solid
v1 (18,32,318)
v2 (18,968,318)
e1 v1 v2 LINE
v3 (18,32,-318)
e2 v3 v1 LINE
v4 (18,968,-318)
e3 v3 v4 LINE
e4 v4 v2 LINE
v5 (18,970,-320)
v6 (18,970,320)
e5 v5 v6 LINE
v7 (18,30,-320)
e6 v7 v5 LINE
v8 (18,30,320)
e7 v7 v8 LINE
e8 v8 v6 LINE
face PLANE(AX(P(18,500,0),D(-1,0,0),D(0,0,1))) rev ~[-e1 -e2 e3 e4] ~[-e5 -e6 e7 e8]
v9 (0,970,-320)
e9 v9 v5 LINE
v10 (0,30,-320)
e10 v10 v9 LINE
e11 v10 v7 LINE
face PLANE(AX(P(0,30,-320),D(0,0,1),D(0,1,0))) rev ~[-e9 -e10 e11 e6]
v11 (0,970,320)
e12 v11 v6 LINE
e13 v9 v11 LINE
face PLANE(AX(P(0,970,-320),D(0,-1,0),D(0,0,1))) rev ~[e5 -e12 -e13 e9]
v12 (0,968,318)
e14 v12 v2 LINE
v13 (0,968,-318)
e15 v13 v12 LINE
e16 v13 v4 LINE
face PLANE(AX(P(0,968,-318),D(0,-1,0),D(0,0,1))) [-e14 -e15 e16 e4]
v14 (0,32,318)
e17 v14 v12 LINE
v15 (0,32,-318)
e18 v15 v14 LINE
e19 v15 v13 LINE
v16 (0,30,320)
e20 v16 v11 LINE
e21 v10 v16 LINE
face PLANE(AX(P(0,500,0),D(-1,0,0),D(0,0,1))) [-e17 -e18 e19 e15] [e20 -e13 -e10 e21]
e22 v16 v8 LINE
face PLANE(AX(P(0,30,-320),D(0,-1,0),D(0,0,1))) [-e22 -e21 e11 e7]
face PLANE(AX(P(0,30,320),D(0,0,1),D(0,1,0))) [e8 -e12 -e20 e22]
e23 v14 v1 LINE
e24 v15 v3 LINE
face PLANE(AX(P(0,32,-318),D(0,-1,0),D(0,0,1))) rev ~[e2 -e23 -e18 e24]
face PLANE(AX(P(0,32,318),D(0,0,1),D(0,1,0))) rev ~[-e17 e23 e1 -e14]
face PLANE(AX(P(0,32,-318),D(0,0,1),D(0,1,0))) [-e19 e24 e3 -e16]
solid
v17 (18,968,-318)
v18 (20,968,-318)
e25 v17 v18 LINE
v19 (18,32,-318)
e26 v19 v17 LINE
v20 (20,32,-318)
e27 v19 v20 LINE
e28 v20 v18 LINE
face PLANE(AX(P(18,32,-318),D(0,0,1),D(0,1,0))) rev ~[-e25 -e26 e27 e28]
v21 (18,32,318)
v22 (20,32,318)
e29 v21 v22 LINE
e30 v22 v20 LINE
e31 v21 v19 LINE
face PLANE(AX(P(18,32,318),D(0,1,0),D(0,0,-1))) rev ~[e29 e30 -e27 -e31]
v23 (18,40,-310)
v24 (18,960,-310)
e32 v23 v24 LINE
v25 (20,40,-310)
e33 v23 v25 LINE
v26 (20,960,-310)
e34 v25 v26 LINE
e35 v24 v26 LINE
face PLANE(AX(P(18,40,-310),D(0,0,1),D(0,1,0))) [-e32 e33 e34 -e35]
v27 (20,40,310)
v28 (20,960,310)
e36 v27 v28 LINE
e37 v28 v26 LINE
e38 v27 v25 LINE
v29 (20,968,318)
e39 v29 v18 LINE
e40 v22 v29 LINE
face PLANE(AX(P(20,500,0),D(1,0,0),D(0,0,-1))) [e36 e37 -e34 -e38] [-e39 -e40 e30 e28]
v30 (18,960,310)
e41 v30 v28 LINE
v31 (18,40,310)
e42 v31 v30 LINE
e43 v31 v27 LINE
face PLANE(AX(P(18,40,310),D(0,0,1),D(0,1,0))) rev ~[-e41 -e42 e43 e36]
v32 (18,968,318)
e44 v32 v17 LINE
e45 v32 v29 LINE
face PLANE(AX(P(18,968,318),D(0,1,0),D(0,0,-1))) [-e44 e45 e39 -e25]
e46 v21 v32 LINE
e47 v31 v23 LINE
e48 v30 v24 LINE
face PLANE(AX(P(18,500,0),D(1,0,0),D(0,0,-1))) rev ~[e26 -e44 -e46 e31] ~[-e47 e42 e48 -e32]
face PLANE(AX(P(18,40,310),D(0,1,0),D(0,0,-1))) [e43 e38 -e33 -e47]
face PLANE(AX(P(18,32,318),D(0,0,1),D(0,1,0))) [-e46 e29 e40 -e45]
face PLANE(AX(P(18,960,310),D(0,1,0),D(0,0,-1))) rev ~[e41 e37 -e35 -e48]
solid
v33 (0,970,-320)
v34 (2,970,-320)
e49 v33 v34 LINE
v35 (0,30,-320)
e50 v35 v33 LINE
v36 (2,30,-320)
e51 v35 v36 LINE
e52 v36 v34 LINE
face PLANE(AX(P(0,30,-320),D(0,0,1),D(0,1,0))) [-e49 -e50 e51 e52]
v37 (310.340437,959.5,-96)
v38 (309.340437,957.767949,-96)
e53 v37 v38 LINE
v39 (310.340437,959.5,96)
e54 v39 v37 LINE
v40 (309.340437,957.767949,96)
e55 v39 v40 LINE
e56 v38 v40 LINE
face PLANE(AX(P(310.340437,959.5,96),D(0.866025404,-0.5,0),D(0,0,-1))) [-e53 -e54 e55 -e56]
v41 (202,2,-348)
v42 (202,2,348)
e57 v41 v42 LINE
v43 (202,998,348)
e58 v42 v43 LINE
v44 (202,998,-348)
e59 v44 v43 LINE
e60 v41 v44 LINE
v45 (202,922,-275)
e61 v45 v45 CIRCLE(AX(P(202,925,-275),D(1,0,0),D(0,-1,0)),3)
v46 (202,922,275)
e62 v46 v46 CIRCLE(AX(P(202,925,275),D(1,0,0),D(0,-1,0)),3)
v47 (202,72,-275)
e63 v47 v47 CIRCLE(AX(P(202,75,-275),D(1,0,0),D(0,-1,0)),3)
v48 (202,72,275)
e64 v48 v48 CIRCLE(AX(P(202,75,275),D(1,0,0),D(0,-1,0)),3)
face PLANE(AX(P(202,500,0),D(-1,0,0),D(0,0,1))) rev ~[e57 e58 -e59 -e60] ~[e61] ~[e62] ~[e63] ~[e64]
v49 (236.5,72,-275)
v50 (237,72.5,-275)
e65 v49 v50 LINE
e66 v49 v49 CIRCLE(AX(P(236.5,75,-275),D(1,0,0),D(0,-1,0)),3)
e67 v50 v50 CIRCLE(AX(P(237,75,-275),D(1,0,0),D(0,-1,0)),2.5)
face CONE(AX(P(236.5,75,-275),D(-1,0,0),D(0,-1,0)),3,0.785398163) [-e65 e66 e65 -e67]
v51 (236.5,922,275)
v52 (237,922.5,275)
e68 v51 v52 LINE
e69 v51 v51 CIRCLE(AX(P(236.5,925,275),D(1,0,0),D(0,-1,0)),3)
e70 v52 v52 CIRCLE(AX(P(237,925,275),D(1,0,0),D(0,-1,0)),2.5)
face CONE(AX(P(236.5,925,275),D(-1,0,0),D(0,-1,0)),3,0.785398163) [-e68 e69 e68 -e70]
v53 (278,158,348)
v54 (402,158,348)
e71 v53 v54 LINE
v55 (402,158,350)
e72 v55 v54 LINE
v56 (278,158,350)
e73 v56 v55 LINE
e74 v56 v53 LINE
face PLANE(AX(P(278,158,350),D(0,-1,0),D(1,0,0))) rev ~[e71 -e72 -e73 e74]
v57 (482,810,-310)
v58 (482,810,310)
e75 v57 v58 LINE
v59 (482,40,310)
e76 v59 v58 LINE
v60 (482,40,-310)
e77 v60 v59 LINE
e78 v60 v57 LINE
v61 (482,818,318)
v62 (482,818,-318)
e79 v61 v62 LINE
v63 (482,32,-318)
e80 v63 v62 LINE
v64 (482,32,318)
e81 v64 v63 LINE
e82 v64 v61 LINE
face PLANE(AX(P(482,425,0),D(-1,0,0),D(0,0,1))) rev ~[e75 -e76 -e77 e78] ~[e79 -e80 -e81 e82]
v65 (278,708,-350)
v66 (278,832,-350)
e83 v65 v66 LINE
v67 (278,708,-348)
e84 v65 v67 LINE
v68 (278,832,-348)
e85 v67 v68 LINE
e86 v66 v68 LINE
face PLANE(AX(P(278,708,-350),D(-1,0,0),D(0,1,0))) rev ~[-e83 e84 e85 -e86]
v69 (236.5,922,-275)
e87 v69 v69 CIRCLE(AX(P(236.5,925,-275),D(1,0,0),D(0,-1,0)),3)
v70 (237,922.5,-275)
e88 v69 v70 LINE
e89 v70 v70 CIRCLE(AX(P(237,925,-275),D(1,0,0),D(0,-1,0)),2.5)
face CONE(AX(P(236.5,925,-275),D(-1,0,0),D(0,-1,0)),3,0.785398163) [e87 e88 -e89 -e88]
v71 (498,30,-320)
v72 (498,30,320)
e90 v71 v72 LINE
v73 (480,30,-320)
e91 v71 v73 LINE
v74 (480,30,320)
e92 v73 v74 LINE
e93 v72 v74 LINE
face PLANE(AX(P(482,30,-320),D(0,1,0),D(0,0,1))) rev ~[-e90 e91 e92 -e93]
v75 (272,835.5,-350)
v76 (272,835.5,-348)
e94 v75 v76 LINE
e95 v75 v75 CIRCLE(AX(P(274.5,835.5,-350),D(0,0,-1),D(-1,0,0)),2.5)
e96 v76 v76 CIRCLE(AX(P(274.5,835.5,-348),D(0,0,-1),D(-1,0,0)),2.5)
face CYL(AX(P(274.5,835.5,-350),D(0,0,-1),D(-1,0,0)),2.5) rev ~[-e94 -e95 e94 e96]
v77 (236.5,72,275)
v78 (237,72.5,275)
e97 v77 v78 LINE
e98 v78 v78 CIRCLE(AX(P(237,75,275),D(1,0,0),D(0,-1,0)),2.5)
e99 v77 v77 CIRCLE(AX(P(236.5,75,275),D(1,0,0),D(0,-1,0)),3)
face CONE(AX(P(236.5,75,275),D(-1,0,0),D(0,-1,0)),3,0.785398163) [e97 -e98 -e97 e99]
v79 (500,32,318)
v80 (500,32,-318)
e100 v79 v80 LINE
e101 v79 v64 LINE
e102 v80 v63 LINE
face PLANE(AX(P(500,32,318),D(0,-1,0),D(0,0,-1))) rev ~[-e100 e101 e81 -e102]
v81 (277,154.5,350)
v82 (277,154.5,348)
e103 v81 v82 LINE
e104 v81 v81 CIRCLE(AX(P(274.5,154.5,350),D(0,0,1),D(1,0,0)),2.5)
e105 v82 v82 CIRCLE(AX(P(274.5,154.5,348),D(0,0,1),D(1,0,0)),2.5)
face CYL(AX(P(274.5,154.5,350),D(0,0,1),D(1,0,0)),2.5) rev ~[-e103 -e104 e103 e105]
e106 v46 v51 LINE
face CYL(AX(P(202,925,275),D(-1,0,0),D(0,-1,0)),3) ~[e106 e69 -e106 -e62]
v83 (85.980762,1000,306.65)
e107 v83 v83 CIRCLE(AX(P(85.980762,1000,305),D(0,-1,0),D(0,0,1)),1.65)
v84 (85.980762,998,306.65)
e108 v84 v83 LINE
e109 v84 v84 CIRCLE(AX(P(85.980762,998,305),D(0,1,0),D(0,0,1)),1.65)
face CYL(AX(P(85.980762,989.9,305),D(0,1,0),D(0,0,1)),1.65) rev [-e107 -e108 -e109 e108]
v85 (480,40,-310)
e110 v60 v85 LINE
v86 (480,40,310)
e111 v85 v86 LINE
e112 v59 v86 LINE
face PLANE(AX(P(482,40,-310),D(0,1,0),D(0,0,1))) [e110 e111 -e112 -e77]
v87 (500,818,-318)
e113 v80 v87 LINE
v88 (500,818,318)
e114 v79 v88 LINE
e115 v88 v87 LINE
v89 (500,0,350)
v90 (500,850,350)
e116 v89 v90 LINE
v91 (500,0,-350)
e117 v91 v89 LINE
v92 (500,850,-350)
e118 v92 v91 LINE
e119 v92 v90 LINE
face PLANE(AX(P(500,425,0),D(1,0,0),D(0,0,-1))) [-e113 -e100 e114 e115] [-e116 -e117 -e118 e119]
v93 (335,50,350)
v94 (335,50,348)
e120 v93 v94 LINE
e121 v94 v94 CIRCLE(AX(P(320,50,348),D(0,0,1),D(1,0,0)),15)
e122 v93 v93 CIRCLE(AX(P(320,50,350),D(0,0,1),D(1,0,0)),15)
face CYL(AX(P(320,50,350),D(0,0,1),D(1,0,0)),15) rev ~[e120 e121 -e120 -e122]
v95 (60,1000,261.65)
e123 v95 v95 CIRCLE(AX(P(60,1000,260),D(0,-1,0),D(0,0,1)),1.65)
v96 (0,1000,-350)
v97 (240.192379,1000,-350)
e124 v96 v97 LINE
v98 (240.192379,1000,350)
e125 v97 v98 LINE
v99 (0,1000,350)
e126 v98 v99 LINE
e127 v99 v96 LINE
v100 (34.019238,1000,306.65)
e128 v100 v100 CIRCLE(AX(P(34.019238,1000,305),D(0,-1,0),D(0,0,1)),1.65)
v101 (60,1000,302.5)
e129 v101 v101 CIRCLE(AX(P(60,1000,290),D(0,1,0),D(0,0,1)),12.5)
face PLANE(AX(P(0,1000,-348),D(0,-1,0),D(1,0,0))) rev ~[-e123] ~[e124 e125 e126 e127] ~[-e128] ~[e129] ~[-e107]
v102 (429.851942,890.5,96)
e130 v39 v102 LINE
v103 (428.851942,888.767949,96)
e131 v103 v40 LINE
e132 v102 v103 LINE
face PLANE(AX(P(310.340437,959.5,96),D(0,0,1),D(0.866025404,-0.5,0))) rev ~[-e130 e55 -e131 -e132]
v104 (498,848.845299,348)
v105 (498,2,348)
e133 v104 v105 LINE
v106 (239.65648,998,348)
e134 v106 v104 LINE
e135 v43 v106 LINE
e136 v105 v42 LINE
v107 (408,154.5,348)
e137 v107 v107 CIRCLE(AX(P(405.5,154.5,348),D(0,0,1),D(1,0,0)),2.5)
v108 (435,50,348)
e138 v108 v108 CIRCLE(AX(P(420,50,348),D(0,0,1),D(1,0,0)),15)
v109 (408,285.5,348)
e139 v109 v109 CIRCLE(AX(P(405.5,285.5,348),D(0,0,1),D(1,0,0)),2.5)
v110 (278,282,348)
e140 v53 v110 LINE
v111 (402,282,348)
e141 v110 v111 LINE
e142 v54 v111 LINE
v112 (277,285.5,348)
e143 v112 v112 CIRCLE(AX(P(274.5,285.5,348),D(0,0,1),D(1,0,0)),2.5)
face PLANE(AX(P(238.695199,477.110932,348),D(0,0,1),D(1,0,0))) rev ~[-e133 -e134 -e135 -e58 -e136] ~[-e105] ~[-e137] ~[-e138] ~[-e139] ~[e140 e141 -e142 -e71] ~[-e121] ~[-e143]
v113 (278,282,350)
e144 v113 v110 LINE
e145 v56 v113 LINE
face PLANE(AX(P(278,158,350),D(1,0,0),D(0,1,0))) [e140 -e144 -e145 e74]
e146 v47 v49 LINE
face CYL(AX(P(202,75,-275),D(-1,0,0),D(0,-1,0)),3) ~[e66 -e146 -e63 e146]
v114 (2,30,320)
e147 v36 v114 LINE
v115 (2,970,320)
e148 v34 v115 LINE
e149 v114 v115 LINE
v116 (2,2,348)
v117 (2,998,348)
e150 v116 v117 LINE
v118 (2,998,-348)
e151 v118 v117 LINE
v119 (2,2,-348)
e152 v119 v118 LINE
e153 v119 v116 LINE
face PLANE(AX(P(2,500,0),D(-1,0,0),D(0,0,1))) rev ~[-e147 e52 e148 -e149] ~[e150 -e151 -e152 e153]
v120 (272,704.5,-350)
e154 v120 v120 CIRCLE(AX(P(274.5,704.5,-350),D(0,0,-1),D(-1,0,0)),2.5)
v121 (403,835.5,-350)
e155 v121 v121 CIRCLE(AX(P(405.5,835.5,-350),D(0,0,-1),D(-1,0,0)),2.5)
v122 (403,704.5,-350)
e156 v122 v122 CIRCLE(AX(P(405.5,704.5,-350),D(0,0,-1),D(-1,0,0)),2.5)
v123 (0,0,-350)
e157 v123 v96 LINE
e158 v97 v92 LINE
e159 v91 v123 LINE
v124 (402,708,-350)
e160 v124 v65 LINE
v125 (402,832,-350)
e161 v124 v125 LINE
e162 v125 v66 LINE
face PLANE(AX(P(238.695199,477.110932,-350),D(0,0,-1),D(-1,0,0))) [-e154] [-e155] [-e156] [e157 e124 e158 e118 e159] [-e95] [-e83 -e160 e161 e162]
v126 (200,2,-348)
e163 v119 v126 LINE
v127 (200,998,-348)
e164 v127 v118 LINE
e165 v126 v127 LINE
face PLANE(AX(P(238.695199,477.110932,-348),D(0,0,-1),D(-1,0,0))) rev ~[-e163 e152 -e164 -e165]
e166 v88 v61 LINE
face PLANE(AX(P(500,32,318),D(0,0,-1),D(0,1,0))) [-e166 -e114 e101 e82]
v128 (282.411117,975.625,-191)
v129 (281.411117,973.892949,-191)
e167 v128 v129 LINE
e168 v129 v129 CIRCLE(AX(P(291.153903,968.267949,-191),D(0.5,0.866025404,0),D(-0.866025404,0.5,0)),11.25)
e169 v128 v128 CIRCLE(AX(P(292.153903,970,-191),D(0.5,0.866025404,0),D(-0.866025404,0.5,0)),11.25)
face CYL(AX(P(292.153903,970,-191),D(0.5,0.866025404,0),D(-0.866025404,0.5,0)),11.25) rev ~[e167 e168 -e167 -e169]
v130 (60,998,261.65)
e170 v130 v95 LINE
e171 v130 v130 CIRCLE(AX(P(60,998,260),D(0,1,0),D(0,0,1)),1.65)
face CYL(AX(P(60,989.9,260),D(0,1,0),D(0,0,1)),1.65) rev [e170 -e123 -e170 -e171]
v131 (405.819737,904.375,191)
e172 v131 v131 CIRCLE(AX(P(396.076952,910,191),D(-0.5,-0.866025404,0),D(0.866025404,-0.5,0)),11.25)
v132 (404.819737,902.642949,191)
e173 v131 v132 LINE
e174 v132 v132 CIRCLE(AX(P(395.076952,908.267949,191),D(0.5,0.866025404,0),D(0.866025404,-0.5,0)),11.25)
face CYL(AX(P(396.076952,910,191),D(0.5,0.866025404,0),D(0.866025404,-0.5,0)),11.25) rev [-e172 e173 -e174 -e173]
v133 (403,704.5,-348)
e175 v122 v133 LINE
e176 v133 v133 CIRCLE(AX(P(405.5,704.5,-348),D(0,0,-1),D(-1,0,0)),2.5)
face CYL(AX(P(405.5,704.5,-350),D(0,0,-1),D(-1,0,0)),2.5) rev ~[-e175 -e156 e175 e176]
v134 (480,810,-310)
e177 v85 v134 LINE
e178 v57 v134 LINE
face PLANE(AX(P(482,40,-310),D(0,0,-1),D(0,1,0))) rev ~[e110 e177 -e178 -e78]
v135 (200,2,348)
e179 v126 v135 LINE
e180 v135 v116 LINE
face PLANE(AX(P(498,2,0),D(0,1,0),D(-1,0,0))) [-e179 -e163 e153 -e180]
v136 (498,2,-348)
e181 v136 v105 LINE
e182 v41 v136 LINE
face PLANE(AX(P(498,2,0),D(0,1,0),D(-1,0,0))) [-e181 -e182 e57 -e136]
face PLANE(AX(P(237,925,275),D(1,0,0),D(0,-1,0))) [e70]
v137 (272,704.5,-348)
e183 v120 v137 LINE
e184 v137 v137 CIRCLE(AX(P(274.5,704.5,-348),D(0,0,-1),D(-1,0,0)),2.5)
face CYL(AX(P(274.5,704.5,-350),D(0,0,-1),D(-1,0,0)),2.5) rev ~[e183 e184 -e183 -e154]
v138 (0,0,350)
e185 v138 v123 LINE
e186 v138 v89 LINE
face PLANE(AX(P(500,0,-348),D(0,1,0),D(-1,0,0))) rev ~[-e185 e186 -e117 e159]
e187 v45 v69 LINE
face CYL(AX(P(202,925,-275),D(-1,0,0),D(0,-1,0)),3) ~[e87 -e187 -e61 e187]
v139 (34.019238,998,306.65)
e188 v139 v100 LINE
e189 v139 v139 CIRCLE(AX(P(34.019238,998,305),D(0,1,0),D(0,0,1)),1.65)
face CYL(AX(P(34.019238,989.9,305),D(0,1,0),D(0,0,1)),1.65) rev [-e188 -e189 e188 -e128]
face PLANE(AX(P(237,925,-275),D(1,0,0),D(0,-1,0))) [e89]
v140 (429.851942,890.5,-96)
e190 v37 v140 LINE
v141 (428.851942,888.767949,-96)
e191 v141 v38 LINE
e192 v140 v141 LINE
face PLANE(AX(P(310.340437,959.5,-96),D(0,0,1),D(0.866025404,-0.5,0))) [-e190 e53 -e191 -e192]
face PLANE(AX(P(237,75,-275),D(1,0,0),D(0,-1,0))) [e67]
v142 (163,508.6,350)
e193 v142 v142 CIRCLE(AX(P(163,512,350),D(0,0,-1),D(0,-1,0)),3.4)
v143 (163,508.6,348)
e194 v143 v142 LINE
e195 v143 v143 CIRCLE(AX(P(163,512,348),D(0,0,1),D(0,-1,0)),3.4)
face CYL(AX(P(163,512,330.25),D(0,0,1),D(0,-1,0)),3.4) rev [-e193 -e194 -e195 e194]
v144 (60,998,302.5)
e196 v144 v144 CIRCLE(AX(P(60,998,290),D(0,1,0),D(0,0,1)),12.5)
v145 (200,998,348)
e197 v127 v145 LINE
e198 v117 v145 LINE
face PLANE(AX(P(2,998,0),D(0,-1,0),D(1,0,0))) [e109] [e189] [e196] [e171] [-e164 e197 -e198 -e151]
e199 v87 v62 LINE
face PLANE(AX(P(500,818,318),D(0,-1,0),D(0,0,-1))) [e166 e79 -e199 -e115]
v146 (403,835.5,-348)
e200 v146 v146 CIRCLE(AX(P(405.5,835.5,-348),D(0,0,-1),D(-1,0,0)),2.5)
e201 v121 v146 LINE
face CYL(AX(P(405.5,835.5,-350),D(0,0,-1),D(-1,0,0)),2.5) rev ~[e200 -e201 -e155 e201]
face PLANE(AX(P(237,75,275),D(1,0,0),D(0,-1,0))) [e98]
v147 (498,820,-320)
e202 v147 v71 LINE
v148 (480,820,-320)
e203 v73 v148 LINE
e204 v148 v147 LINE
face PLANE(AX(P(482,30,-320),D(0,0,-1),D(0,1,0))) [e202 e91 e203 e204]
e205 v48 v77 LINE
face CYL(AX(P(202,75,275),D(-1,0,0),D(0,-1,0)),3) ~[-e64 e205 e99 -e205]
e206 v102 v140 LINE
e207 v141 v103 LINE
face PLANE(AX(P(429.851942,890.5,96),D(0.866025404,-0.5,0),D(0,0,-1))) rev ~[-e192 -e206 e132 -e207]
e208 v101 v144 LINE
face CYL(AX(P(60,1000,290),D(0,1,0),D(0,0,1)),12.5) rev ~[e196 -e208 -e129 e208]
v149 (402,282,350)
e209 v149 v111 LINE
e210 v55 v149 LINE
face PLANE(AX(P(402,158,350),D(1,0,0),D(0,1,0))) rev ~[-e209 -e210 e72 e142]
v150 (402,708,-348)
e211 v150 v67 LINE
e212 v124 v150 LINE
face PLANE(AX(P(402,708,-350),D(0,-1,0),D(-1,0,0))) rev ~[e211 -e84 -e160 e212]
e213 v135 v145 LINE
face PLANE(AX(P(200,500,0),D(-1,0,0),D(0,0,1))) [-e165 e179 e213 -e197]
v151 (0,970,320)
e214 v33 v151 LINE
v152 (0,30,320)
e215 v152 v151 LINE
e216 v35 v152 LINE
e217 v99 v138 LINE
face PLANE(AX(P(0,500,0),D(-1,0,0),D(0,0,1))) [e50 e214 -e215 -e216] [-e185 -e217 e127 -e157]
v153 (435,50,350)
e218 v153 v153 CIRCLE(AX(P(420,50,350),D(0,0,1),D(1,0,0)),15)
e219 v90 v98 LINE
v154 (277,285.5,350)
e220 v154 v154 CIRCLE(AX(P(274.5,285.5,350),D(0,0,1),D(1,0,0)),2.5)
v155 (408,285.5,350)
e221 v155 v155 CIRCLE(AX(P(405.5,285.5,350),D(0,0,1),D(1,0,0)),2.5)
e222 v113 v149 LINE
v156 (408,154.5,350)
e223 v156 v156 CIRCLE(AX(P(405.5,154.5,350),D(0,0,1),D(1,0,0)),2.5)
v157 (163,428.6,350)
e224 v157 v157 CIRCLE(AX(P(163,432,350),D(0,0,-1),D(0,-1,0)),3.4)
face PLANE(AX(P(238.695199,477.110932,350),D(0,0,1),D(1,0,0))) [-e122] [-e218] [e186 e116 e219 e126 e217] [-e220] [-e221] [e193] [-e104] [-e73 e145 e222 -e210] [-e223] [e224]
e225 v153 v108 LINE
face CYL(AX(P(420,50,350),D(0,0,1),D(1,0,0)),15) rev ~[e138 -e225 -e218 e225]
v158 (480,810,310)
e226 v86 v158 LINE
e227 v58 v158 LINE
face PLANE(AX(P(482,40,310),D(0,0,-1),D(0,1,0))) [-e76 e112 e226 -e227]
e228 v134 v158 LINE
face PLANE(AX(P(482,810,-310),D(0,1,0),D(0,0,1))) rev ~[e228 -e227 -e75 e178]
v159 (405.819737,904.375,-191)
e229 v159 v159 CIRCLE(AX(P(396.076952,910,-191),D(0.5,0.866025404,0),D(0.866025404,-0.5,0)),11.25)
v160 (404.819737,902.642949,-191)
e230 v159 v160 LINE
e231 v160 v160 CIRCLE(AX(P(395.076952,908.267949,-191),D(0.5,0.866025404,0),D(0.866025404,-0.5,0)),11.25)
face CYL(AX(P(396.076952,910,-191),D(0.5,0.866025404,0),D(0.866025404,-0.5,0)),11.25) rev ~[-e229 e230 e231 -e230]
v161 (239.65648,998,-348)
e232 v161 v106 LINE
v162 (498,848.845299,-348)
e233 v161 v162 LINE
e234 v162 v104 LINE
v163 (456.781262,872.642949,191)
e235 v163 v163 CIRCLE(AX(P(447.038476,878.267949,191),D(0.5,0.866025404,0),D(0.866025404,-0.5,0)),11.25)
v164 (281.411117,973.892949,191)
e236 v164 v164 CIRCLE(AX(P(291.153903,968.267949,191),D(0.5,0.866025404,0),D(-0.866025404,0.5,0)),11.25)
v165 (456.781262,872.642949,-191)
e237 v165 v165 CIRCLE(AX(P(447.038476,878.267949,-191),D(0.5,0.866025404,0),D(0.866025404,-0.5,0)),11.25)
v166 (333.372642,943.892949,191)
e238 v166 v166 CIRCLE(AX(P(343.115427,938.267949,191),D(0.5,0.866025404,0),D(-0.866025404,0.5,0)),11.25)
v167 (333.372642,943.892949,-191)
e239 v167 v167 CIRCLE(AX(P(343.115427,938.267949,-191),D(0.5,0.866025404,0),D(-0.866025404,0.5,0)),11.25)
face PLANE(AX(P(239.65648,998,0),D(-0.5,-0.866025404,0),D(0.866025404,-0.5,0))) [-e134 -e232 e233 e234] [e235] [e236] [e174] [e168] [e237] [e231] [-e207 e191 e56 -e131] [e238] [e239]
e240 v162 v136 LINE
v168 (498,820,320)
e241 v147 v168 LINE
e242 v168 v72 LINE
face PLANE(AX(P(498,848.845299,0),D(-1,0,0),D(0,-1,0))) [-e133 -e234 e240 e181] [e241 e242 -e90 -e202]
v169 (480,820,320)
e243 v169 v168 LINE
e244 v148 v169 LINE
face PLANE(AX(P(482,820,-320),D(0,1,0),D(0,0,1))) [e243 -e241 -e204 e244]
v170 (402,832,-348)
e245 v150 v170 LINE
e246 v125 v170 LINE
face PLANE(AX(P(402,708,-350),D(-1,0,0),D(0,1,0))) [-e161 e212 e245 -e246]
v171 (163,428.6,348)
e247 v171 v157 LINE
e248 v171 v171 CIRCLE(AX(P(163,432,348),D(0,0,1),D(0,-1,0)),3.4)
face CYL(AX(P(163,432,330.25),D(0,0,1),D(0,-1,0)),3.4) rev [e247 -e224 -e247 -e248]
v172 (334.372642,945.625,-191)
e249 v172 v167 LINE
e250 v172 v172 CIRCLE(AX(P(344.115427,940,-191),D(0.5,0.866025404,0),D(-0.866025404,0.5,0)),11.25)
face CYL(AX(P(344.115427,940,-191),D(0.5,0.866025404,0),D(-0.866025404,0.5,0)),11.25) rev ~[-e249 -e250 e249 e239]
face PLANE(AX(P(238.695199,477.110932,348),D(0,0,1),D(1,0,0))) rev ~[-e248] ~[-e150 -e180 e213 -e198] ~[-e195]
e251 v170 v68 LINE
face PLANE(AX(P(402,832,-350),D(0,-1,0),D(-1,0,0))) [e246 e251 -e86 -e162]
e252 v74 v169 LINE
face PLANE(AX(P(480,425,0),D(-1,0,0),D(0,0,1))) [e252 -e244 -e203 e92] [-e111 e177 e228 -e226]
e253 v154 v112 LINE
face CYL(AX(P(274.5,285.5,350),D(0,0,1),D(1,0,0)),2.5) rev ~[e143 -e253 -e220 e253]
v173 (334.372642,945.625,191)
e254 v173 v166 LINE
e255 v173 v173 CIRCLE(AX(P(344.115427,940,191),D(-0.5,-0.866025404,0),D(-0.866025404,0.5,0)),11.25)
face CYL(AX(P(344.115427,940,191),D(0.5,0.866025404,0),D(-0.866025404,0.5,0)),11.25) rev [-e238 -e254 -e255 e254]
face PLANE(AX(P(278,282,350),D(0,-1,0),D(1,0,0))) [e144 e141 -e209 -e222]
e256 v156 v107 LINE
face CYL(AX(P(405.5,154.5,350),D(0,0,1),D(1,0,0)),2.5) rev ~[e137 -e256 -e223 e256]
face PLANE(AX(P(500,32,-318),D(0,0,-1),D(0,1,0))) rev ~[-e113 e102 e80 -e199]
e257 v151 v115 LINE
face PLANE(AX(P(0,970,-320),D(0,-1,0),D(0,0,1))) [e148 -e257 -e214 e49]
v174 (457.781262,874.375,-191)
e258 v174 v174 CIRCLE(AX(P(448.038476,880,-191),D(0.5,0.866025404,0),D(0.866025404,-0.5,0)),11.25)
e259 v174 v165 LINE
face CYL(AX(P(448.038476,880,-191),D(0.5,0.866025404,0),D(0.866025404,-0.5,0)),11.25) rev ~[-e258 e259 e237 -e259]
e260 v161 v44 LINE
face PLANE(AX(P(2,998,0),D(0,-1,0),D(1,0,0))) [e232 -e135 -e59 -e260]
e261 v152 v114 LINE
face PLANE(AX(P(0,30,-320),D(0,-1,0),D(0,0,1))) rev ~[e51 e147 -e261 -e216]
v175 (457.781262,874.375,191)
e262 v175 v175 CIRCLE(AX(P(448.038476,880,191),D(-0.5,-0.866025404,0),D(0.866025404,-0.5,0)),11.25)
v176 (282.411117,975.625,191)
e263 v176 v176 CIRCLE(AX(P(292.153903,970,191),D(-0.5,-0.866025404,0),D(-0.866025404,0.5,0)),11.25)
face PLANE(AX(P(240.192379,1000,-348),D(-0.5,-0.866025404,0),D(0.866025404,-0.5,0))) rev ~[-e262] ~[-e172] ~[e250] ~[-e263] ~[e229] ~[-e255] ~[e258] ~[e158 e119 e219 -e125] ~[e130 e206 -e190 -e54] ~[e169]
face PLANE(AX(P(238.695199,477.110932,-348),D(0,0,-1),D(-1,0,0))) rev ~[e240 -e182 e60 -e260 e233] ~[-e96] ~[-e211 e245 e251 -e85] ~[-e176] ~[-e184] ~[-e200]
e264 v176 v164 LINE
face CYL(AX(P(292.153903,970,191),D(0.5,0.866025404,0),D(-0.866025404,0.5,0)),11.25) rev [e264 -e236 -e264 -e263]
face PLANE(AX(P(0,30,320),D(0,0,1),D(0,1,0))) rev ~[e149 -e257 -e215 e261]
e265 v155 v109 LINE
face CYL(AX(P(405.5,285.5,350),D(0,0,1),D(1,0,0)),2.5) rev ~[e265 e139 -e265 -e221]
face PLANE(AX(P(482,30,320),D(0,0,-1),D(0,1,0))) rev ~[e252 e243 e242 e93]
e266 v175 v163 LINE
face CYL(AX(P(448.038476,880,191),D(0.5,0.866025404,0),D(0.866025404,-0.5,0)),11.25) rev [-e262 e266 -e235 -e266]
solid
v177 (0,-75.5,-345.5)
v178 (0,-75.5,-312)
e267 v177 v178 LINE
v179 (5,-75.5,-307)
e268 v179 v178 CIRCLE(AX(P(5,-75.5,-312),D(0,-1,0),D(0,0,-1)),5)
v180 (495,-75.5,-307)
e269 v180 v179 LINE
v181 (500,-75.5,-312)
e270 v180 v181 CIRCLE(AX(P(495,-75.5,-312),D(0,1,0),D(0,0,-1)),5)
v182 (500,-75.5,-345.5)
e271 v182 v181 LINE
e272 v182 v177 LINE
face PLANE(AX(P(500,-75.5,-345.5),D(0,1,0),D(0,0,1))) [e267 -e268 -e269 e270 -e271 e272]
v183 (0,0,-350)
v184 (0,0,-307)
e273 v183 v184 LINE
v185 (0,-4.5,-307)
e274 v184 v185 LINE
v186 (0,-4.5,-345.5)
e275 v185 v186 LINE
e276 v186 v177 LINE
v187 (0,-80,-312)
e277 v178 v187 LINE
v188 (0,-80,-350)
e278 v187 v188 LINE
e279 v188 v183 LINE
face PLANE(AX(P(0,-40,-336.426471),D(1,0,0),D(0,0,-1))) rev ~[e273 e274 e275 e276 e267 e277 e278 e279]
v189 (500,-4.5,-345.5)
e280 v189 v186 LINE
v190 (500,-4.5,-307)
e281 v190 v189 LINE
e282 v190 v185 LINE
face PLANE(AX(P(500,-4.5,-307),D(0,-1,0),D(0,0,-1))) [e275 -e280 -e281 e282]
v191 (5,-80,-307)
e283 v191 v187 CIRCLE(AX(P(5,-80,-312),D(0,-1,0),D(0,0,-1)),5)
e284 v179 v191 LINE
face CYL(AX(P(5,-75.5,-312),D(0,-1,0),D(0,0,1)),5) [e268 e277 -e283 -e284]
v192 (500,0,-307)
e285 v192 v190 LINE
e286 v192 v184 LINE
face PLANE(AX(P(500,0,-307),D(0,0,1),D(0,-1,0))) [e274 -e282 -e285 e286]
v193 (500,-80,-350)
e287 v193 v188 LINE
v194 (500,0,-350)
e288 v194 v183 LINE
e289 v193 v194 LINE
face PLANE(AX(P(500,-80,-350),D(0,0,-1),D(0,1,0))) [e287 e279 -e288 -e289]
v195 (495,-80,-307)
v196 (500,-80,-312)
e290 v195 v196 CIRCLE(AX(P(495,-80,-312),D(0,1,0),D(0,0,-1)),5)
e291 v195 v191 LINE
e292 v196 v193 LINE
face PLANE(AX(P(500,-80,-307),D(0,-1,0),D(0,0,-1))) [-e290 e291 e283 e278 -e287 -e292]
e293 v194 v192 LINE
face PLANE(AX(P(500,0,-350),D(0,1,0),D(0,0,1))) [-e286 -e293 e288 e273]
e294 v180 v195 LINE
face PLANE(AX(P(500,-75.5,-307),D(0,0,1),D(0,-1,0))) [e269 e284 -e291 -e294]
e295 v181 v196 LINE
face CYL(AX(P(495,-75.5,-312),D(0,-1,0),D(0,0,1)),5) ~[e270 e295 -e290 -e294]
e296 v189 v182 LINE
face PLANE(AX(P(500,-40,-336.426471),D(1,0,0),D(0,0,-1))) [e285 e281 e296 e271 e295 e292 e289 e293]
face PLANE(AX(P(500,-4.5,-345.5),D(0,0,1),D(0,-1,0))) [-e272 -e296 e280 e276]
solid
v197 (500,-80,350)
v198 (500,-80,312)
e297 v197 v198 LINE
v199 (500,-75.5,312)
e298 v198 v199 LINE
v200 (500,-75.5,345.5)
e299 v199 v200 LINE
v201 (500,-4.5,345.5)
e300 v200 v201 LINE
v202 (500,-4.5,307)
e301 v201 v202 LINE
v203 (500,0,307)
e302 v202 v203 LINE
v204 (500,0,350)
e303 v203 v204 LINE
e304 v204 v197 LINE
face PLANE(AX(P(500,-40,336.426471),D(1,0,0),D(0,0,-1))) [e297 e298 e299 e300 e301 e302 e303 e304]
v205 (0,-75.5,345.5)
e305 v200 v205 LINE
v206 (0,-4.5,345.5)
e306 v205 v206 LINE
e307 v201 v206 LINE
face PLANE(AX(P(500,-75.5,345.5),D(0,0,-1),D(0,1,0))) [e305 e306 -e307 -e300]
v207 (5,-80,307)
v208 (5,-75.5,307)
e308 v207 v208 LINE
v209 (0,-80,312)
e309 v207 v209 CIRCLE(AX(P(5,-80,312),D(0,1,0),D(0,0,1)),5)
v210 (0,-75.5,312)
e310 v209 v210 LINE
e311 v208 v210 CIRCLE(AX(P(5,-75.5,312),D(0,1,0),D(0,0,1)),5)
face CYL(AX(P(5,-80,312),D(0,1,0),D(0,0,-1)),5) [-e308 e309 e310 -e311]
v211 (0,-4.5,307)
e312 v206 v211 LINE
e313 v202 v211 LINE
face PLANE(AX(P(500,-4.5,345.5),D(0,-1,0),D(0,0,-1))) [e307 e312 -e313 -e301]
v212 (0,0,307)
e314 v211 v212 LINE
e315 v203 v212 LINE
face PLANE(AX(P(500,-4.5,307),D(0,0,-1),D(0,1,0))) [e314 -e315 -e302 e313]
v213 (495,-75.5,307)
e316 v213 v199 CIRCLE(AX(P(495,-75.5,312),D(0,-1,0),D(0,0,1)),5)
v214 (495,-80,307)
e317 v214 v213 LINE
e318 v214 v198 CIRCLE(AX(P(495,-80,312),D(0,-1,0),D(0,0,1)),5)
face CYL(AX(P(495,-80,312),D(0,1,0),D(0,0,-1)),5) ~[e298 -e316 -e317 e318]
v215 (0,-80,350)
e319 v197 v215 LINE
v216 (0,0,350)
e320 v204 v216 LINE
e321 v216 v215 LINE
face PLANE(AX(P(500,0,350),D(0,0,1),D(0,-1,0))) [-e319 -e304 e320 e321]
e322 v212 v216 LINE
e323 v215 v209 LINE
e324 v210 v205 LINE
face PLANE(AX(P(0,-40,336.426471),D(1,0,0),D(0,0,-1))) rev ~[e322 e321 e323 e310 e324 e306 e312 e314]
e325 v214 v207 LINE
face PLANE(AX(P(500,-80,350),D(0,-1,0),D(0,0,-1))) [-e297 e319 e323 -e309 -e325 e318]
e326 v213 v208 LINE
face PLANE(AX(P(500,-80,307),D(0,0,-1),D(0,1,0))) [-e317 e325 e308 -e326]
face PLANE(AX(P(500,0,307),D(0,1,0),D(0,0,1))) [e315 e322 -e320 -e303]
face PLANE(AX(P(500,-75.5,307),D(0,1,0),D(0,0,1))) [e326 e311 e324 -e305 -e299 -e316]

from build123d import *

# Parameters (mm, degrees)
EXTRUDE_1_DEPTH             = 348
EXTRUDE_2_DEPTH             = 2
EXTRUDE_3_DEPTH             = 2
SKETCH_4_W                  = 640
SKETCH_4_H                  = 790
CUT_EXTRUDE_1_DEPTH         = 10
SKETCH_7_W                  = 640
SKETCH_7_H                  = 790
SKETCH_7_W_2                = 636
SKETCH_7_H_2                = 786
EXTRUDE_4_DEPTH             = 18
SKETCH_8_W                  = 696
SKETCH_8_H                  = 996
CUT_EXTRUDE_2_DEPTH         = 10
SKETCH_9_W                  = 640
SKETCH_9_H                  = 790
SKETCH_9_W_2                = 620
SKETCH_9_H_2                = 770
EXTRUDE_5_DEPTH             = 2
EXTRUDE_START               = -200
SKETCH_10_W                 = 696
SKETCH_10_H                 = 996
EXTRUDE_6_DEPTH             = 2
SKETCH_11_W                 = 138
SKETCH_11_H                 = 192
CUT_EXTRUDE_3_DEPTH         = 10
EXTRUDE_7_DEPTH             = 500
EXTRUDE_7_2_DEPTH           = 500
SKETCH_13_R                 = 11.25
CUT_EXTRUDE_4_DEPTH         = 10
SKETCH_23_R                 = 15
CUT_EXTRUDE_8_DEPTH         = 10
SKETCH_29_R                 = 2.5
SKETCH_29_W                 = 124
SKETCH_29_H                 = 124
CUT_EXTRUDE_13_DEPTH        = 10
SKETCH_31_R                 = 12.5
CUT_EXTRUDE_16_DEPTH        = 10
SKETCH_34_W                 = 696
SKETCH_34_H                 = 996
SKETCH_34_W_2               = 640
SKETCH_34_H_2               = 940
EXTRUDE_10_DEPTH            = 2
SKETCH_36_W                 = 640
SKETCH_36_H                 = 940
SKETCH_36_W_2               = 636
SKETCH_36_H_2               = 936
EXTRUDE_11_DEPTH            = 18
SKETCH_37_W                 = 636
SKETCH_37_H                 = 936
SKETCH_37_W_2               = 620
SKETCH_37_H_2               = 920
EXTRUDE_12_DEPTH            = 2
FILLET_1_R                  = 5
FILLET_2_R                  = 5
SKETCH_41_R                 = 2.5
SKETCH_41_W                 = 124
SKETCH_41_H                 = 124
CUT_EXTRUDE_21_DEPTH        = 10
SKETCH_42_R                 = 3
EXTRUDE_13_DEPTH            = 35
CHAMFER_1_SIZE              = 0.5
HOLE_WIZARD_M4_1_AT_2_COUNT = 2
HOLE_WIZARD_M4_1_AT_2_PITCH = 51.961524227
HOLE_WIZARD_M4_1_AT_3_COUNT = 2
HOLE_WIZARD_M4_1_AT_3_PITCH = 51.961524227
HOLE_WIZARD_M8_1_AT_2_COUNT = 2
HOLE_WIZARD_M8_1_AT_2_PITCH = 80


with BuildPart() as part:
    # 草图1 → 凸台-拉伸1 (new, symmetric)
    with BuildSketch(Plane.XY):
        Polygon((0, 0), (0, 1000), (240.192378865, 1000), (500, 850), (500, 0), align=None)
        Polygon((2, 2), (2, 998), (239.65648048, 998), (498, 848.845299462), (498, 2), align=None, mode=Mode.SUBTRACT)
    extrude(amount=EXTRUDE_1_DEPTH, both=True)

    # 草图2 → 凸台-拉伸2 (add)
    with BuildSketch(Plane.XY.offset(348)):
        Polygon((0, 0), (500, 0), (500, 850), (240.192378865, 1000), (0, 1000), align=None)
    extrude(amount=EXTRUDE_2_DEPTH)

    # 草图3 → 凸台-拉伸3 (add)
    with BuildSketch(Plane(origin=(0, 0, -348), x_dir=(-1, 0, 0), z_dir=(0, 0, -1))):
        Polygon((-500, 0), (0, 0), (0, 1000), (-240.192378865, 1000), (-500, 850), align=None)
    extrude(amount=EXTRUDE_3_DEPTH)

    # 草图4 → 切除-拉伸1 (cut)
    with BuildSketch(Plane(origin=(500, 0, 0), x_dir=(0, 0, -1), z_dir=(1, 0, 0))):
        with Locations((0, 425)):
            Rectangle(SKETCH_4_W, SKETCH_4_H)
    extrude(amount=-CUT_EXTRUDE_1_DEPTH, mode=Mode.SUBTRACT)

    # 草图7 → 凸台-拉伸4 (add)
    with BuildSketch(Plane(origin=(500, 0, 0), x_dir=(0, 0, -1), z_dir=(1, 0, 0))):
        with Locations((0, 425)):
            Rectangle(SKETCH_7_W, SKETCH_7_H)
        with Locations((0, 425)):
            Rectangle(SKETCH_7_W_2, SKETCH_7_H_2, mode=Mode.SUBTRACT)
    extrude(amount=-EXTRUDE_4_DEPTH)

    # 草图8 → 切除-拉伸2 (cut)
    with BuildSketch(Plane.ZY):
        with Locations((0, 500)):
            Rectangle(SKETCH_8_W, SKETCH_8_H)
    extrude(amount=-CUT_EXTRUDE_2_DEPTH, mode=Mode.SUBTRACT)

    # 草图9 → 凸台-拉伸5 (add)
    with BuildSketch(Plane.ZY.offset(-482)):
        with Locations((0, 425)):
            Rectangle(SKETCH_9_W, SKETCH_9_H)
        with Locations((0, 425)):
            Rectangle(SKETCH_9_W_2, SKETCH_9_H_2, mode=Mode.SUBTRACT)
    extrude(amount=EXTRUDE_5_DEPTH)

    # 草图11 → 切除-拉伸3 (cut)
    with BuildSketch(Plane(origin=(493.060796608, 854.006350946, 0), x_dir=(0.866025403784438, -0.5000000000000011, 0), z_dir=(0.5000000000000011, 0.8660254037844382, 0))):
        with Locations((-141.987298108, 0)):
            Rectangle(SKETCH_11_W, SKETCH_11_H)
    extrude(amount=-CUT_EXTRUDE_3_DEPTH, mode=Mode.SUBTRACT)

    # 草图13 → 切除-拉伸4 (cut)
    with BuildSketch(Plane(origin=(493.060796608, 854.006350946, 0), x_dir=(0.866025403784438, -0.5000000000000011, 0), z_dir=(0.5000000000000011, 0.8660254037844382, 0))):
        with Locations(Location((-171.987298108, 191, 0), (0, 0, 180))):
            Circle(SKETCH_13_R)
        with Locations(Location((-231.987298108, 191, 0), (0, 0, 180))):
            Circle(SKETCH_13_R)
        with Locations((-51.987298108, 191)):
            Circle(SKETCH_13_R)
        with Locations((-111.987298108, 191)):
            Circle(SKETCH_13_R)
    cut_extrude_4 = extrude(amount=-CUT_EXTRUDE_4_DEPTH, mode=Mode.SUBTRACT)

    # 草图23 → 切除-拉伸8 (cut)
    with BuildSketch(Plane.XY.offset(350)):
        with Locations((420, 50)):
            Circle(SKETCH_23_R)
        with Locations((320, 50)):
            Circle(SKETCH_23_R)
    extrude(amount=-CUT_EXTRUDE_8_DEPTH, mode=Mode.SUBTRACT)

    # 草图29 → 切除-拉伸13 (cut)
    with BuildSketch(Plane(origin=(0, 0, -350), x_dir=(-1, 0, 0), z_dir=(0, 0, -1))):
        with Locations((-274.5, 835.5)):
            Circle(SKETCH_29_R)
        with Locations((-274.5, 704.5)):
            Circle(SKETCH_29_R)
        with Locations((-405.5, 835.5)):
            Circle(SKETCH_29_R)
        with Locations((-405.5, 704.5)):
            Circle(SKETCH_29_R)
        with Locations((-340, 770)):
            Rectangle(SKETCH_29_W, SKETCH_29_H)
    extrude(amount=-CUT_EXTRUDE_13_DEPTH, mode=Mode.SUBTRACT)

    # 草图31 → 切除-拉伸16 (cut)
    with BuildSketch(Plane(origin=(0, 1000, 0), x_dir=(1, 0, 0), z_dir=(0, 1, 0))):
        with Locations(Location((60, -290, 0), (0, 0, 270))):
            Circle(SKETCH_31_R)
    extrude(amount=-CUT_EXTRUDE_16_DEPTH, mode=Mode.SUBTRACT)

    # 草图34 → 凸台-拉伸10 (add)
    with BuildSketch(Plane.ZY):
        with Locations((0, 500)):
            Rectangle(SKETCH_34_W, SKETCH_34_H)
        with Locations((0, 500)):
            Rectangle(SKETCH_34_W_2, SKETCH_34_H_2, mode=Mode.SUBTRACT)
    extrude(amount=-EXTRUDE_10_DEPTH)

    # 镜向1: 切除-拉伸4 across plane
    add(cut_extrude_4.mirror(Plane.XY), mode=Mode.SUBTRACT)

    # 草图41 → 切除-拉伸21 (cut)
    with BuildSketch(Plane.XY.offset(350)):
        with Locations((274.5, 285.5)):
            Circle(SKETCH_41_R)
        with Locations((274.5, 154.5)):
            Circle(SKETCH_41_R)
        with Locations((405.5, 154.5)):
            Circle(SKETCH_41_R)
        with Locations((405.5, 285.5)):
            Circle(SKETCH_41_R)
        with Locations((340, 220)):
            Rectangle(SKETCH_41_W, SKETCH_41_H)
    extrude(amount=-CUT_EXTRUDE_21_DEPTH, mode=Mode.SUBTRACT)


with BuildPart() as body_2:
    # 草图10 → 凸台-拉伸6 (new body)
    with BuildSketch(Plane.ZY.offset(EXTRUDE_START)):
        with Locations((0, 500)):
            Rectangle(SKETCH_10_W, SKETCH_10_H)
    extrude(amount=-EXTRUDE_6_DEPTH)


    add(part.part)  # 凸台-拉伸13 merges part
    # 草图42 → 凸台-拉伸13 (add)
    with BuildSketch(Plane(origin=(202, 0, 0), x_dir=(0, 0, -1), z_dir=(1, 0, 0))):
        with Locations(Location((-275, 925, 0), (0, 0, 270))):
            Circle(SKETCH_42_R)
        with Locations(Location((275, 925, 0), (0, 0, 270))):
            Circle(SKETCH_42_R)
        with Locations(Location((-275, 75, 0), (0, 0, 270))):
            Circle(SKETCH_42_R)
        with Locations(Location((275, 75, 0), (0, 0, 270))):
            Circle(SKETCH_42_R)
    extrude(amount=EXTRUDE_13_DEPTH)

    # 倒角1
    chamfer_1_edges = [body_2.edges().sort_by_distance(p)[0] for p in [
        (237, 928, -275),
        (237, 78, 275),
        (237, 78, -275),
        (237, 928, 275),
    ]]
    chamfer(chamfer_1_edges, length=CHAMFER_1_SIZE)

    # 草图44 → M4 螺纹孔1 (revolve, cut)
    with BuildSketch(Plane(origin=(85.980762114, 1000, 305), x_dir=(0, 0, 1), z_dir=(1, 0, 0))):
        Polygon((0, 0), (0, 11.091420021), (1.65, 10.1), (1.65, 0), align=None)
    hole_wizard_m4_1 = revolve(axis=Axis((85.980762114, 1006.35, 305), (0, -1, 0)), mode=Mode.SUBTRACT)

    # M4 螺纹孔1 at 2: M4 螺纹孔1 ×2
    with Locations(*[Vector(-0.49999999999999684, 0, -0.8660254037844405) * (i * HOLE_WIZARD_M4_1_AT_2_PITCH) for i in range(1, HOLE_WIZARD_M4_1_AT_2_COUNT)]):
        add(hole_wizard_m4_1, mode=Mode.SUBTRACT)

    # M4 螺纹孔1 at 3: M4 螺纹孔1 ×2
    with Locations(*[(-i * HOLE_WIZARD_M4_1_AT_3_PITCH, 0, 0) for i in range(1, HOLE_WIZARD_M4_1_AT_3_COUNT)]):
        add(hole_wizard_m4_1, mode=Mode.SUBTRACT)

    # 草图46 → M8 螺纹孔1 (revolve, cut)
    with BuildSketch(Plane(origin=(163, 432, 350), x_dir=(0, -1, 0), z_dir=(1, 0, 0))):
        Polygon((0, 0), (0, 21.792926105), (3.4, 19.75), (3.4, 0), align=None)
    hole_wizard_m8_1 = revolve(axis=Axis((163, 432, 356.35), (0, 0, -1)), mode=Mode.SUBTRACT)

    # M8 螺纹孔1 at 2: M8 螺纹孔1 ×2
    with Locations(*[(0, i * HOLE_WIZARD_M8_1_AT_2_PITCH, 0) for i in range(1, HOLE_WIZARD_M8_1_AT_2_COUNT)]):
        add(hole_wizard_m8_1, mode=Mode.SUBTRACT)


with BuildPart() as body_3:
    # 草图12 → 凸台-拉伸7 (new body)
    with BuildSketch(Plane(origin=(500, 0, 0), x_dir=(0, 0, -1), z_dir=(1, 0, 0))):
        Polygon((-350, 0), (-350, -80), (-307, -80), (-307, -75.5), (-345.5, -75.5), (-345.5, -4.5), (-307, -4.5), (-307, 0), align=None)
    extrude(amount=-EXTRUDE_7_DEPTH)

    # 圆角1
    fillet_1_edges = [body_3.edges().sort_by_distance(p)[0] for p in [
        (0, -77.75, 307),
        (500, -77.75, 307),
    ]]
    fillet(fillet_1_edges, radius=FILLET_1_R)


with BuildPart() as body_4:
    # 草图12 → Extrude 7 2 (new body)
    with BuildSketch(Plane(origin=(500, 0, 0), x_dir=(0, 0, -1), z_dir=(1, 0, 0))):
        Polygon((307, -75.5), (307, -80), (350, -80), (350, 0), (307, 0), (307, -4.5), (345.5, -4.5), (345.5, -75.5), align=None)
    extrude(amount=-EXTRUDE_7_2_DEPTH)

    # 圆角2
    fillet_2_edges = [body_4.edges().sort_by_distance(p)[0] for p in [
        (0, -77.75, -307),
        (500, -77.75, -307),
    ]]
    fillet(fillet_2_edges, radius=FILLET_2_R)


with BuildPart() as body_5:
    # 草图36 → 凸台-拉伸11 (new body)
    with BuildSketch(Plane.ZY):
        with Locations((0, 500)):
            Rectangle(SKETCH_36_W, SKETCH_36_H)
        with Locations((0, 500)):
            Rectangle(SKETCH_36_W_2, SKETCH_36_H_2, mode=Mode.SUBTRACT)
    extrude(amount=-EXTRUDE_11_DEPTH)


with BuildPart() as body_6:
    # 草图37 → 凸台-拉伸12 (new body)
    with BuildSketch(Plane(origin=(18, 0, 0), x_dir=(0, 0, -1), z_dir=(1, 0, 0))):
        with Locations((0, 500)):
            Rectangle(SKETCH_37_W, SKETCH_37_H)
        with Locations((0, 500)):
            Rectangle(SKETCH_37_W_2, SKETCH_37_H_2, mode=Mode.SUBTRACT)
    extrude(amount=EXTRUDE_12_DEPTH)


solid = Compound([body_2.part, body_3.part, body_4.part, body_5.part, body_6.part])
